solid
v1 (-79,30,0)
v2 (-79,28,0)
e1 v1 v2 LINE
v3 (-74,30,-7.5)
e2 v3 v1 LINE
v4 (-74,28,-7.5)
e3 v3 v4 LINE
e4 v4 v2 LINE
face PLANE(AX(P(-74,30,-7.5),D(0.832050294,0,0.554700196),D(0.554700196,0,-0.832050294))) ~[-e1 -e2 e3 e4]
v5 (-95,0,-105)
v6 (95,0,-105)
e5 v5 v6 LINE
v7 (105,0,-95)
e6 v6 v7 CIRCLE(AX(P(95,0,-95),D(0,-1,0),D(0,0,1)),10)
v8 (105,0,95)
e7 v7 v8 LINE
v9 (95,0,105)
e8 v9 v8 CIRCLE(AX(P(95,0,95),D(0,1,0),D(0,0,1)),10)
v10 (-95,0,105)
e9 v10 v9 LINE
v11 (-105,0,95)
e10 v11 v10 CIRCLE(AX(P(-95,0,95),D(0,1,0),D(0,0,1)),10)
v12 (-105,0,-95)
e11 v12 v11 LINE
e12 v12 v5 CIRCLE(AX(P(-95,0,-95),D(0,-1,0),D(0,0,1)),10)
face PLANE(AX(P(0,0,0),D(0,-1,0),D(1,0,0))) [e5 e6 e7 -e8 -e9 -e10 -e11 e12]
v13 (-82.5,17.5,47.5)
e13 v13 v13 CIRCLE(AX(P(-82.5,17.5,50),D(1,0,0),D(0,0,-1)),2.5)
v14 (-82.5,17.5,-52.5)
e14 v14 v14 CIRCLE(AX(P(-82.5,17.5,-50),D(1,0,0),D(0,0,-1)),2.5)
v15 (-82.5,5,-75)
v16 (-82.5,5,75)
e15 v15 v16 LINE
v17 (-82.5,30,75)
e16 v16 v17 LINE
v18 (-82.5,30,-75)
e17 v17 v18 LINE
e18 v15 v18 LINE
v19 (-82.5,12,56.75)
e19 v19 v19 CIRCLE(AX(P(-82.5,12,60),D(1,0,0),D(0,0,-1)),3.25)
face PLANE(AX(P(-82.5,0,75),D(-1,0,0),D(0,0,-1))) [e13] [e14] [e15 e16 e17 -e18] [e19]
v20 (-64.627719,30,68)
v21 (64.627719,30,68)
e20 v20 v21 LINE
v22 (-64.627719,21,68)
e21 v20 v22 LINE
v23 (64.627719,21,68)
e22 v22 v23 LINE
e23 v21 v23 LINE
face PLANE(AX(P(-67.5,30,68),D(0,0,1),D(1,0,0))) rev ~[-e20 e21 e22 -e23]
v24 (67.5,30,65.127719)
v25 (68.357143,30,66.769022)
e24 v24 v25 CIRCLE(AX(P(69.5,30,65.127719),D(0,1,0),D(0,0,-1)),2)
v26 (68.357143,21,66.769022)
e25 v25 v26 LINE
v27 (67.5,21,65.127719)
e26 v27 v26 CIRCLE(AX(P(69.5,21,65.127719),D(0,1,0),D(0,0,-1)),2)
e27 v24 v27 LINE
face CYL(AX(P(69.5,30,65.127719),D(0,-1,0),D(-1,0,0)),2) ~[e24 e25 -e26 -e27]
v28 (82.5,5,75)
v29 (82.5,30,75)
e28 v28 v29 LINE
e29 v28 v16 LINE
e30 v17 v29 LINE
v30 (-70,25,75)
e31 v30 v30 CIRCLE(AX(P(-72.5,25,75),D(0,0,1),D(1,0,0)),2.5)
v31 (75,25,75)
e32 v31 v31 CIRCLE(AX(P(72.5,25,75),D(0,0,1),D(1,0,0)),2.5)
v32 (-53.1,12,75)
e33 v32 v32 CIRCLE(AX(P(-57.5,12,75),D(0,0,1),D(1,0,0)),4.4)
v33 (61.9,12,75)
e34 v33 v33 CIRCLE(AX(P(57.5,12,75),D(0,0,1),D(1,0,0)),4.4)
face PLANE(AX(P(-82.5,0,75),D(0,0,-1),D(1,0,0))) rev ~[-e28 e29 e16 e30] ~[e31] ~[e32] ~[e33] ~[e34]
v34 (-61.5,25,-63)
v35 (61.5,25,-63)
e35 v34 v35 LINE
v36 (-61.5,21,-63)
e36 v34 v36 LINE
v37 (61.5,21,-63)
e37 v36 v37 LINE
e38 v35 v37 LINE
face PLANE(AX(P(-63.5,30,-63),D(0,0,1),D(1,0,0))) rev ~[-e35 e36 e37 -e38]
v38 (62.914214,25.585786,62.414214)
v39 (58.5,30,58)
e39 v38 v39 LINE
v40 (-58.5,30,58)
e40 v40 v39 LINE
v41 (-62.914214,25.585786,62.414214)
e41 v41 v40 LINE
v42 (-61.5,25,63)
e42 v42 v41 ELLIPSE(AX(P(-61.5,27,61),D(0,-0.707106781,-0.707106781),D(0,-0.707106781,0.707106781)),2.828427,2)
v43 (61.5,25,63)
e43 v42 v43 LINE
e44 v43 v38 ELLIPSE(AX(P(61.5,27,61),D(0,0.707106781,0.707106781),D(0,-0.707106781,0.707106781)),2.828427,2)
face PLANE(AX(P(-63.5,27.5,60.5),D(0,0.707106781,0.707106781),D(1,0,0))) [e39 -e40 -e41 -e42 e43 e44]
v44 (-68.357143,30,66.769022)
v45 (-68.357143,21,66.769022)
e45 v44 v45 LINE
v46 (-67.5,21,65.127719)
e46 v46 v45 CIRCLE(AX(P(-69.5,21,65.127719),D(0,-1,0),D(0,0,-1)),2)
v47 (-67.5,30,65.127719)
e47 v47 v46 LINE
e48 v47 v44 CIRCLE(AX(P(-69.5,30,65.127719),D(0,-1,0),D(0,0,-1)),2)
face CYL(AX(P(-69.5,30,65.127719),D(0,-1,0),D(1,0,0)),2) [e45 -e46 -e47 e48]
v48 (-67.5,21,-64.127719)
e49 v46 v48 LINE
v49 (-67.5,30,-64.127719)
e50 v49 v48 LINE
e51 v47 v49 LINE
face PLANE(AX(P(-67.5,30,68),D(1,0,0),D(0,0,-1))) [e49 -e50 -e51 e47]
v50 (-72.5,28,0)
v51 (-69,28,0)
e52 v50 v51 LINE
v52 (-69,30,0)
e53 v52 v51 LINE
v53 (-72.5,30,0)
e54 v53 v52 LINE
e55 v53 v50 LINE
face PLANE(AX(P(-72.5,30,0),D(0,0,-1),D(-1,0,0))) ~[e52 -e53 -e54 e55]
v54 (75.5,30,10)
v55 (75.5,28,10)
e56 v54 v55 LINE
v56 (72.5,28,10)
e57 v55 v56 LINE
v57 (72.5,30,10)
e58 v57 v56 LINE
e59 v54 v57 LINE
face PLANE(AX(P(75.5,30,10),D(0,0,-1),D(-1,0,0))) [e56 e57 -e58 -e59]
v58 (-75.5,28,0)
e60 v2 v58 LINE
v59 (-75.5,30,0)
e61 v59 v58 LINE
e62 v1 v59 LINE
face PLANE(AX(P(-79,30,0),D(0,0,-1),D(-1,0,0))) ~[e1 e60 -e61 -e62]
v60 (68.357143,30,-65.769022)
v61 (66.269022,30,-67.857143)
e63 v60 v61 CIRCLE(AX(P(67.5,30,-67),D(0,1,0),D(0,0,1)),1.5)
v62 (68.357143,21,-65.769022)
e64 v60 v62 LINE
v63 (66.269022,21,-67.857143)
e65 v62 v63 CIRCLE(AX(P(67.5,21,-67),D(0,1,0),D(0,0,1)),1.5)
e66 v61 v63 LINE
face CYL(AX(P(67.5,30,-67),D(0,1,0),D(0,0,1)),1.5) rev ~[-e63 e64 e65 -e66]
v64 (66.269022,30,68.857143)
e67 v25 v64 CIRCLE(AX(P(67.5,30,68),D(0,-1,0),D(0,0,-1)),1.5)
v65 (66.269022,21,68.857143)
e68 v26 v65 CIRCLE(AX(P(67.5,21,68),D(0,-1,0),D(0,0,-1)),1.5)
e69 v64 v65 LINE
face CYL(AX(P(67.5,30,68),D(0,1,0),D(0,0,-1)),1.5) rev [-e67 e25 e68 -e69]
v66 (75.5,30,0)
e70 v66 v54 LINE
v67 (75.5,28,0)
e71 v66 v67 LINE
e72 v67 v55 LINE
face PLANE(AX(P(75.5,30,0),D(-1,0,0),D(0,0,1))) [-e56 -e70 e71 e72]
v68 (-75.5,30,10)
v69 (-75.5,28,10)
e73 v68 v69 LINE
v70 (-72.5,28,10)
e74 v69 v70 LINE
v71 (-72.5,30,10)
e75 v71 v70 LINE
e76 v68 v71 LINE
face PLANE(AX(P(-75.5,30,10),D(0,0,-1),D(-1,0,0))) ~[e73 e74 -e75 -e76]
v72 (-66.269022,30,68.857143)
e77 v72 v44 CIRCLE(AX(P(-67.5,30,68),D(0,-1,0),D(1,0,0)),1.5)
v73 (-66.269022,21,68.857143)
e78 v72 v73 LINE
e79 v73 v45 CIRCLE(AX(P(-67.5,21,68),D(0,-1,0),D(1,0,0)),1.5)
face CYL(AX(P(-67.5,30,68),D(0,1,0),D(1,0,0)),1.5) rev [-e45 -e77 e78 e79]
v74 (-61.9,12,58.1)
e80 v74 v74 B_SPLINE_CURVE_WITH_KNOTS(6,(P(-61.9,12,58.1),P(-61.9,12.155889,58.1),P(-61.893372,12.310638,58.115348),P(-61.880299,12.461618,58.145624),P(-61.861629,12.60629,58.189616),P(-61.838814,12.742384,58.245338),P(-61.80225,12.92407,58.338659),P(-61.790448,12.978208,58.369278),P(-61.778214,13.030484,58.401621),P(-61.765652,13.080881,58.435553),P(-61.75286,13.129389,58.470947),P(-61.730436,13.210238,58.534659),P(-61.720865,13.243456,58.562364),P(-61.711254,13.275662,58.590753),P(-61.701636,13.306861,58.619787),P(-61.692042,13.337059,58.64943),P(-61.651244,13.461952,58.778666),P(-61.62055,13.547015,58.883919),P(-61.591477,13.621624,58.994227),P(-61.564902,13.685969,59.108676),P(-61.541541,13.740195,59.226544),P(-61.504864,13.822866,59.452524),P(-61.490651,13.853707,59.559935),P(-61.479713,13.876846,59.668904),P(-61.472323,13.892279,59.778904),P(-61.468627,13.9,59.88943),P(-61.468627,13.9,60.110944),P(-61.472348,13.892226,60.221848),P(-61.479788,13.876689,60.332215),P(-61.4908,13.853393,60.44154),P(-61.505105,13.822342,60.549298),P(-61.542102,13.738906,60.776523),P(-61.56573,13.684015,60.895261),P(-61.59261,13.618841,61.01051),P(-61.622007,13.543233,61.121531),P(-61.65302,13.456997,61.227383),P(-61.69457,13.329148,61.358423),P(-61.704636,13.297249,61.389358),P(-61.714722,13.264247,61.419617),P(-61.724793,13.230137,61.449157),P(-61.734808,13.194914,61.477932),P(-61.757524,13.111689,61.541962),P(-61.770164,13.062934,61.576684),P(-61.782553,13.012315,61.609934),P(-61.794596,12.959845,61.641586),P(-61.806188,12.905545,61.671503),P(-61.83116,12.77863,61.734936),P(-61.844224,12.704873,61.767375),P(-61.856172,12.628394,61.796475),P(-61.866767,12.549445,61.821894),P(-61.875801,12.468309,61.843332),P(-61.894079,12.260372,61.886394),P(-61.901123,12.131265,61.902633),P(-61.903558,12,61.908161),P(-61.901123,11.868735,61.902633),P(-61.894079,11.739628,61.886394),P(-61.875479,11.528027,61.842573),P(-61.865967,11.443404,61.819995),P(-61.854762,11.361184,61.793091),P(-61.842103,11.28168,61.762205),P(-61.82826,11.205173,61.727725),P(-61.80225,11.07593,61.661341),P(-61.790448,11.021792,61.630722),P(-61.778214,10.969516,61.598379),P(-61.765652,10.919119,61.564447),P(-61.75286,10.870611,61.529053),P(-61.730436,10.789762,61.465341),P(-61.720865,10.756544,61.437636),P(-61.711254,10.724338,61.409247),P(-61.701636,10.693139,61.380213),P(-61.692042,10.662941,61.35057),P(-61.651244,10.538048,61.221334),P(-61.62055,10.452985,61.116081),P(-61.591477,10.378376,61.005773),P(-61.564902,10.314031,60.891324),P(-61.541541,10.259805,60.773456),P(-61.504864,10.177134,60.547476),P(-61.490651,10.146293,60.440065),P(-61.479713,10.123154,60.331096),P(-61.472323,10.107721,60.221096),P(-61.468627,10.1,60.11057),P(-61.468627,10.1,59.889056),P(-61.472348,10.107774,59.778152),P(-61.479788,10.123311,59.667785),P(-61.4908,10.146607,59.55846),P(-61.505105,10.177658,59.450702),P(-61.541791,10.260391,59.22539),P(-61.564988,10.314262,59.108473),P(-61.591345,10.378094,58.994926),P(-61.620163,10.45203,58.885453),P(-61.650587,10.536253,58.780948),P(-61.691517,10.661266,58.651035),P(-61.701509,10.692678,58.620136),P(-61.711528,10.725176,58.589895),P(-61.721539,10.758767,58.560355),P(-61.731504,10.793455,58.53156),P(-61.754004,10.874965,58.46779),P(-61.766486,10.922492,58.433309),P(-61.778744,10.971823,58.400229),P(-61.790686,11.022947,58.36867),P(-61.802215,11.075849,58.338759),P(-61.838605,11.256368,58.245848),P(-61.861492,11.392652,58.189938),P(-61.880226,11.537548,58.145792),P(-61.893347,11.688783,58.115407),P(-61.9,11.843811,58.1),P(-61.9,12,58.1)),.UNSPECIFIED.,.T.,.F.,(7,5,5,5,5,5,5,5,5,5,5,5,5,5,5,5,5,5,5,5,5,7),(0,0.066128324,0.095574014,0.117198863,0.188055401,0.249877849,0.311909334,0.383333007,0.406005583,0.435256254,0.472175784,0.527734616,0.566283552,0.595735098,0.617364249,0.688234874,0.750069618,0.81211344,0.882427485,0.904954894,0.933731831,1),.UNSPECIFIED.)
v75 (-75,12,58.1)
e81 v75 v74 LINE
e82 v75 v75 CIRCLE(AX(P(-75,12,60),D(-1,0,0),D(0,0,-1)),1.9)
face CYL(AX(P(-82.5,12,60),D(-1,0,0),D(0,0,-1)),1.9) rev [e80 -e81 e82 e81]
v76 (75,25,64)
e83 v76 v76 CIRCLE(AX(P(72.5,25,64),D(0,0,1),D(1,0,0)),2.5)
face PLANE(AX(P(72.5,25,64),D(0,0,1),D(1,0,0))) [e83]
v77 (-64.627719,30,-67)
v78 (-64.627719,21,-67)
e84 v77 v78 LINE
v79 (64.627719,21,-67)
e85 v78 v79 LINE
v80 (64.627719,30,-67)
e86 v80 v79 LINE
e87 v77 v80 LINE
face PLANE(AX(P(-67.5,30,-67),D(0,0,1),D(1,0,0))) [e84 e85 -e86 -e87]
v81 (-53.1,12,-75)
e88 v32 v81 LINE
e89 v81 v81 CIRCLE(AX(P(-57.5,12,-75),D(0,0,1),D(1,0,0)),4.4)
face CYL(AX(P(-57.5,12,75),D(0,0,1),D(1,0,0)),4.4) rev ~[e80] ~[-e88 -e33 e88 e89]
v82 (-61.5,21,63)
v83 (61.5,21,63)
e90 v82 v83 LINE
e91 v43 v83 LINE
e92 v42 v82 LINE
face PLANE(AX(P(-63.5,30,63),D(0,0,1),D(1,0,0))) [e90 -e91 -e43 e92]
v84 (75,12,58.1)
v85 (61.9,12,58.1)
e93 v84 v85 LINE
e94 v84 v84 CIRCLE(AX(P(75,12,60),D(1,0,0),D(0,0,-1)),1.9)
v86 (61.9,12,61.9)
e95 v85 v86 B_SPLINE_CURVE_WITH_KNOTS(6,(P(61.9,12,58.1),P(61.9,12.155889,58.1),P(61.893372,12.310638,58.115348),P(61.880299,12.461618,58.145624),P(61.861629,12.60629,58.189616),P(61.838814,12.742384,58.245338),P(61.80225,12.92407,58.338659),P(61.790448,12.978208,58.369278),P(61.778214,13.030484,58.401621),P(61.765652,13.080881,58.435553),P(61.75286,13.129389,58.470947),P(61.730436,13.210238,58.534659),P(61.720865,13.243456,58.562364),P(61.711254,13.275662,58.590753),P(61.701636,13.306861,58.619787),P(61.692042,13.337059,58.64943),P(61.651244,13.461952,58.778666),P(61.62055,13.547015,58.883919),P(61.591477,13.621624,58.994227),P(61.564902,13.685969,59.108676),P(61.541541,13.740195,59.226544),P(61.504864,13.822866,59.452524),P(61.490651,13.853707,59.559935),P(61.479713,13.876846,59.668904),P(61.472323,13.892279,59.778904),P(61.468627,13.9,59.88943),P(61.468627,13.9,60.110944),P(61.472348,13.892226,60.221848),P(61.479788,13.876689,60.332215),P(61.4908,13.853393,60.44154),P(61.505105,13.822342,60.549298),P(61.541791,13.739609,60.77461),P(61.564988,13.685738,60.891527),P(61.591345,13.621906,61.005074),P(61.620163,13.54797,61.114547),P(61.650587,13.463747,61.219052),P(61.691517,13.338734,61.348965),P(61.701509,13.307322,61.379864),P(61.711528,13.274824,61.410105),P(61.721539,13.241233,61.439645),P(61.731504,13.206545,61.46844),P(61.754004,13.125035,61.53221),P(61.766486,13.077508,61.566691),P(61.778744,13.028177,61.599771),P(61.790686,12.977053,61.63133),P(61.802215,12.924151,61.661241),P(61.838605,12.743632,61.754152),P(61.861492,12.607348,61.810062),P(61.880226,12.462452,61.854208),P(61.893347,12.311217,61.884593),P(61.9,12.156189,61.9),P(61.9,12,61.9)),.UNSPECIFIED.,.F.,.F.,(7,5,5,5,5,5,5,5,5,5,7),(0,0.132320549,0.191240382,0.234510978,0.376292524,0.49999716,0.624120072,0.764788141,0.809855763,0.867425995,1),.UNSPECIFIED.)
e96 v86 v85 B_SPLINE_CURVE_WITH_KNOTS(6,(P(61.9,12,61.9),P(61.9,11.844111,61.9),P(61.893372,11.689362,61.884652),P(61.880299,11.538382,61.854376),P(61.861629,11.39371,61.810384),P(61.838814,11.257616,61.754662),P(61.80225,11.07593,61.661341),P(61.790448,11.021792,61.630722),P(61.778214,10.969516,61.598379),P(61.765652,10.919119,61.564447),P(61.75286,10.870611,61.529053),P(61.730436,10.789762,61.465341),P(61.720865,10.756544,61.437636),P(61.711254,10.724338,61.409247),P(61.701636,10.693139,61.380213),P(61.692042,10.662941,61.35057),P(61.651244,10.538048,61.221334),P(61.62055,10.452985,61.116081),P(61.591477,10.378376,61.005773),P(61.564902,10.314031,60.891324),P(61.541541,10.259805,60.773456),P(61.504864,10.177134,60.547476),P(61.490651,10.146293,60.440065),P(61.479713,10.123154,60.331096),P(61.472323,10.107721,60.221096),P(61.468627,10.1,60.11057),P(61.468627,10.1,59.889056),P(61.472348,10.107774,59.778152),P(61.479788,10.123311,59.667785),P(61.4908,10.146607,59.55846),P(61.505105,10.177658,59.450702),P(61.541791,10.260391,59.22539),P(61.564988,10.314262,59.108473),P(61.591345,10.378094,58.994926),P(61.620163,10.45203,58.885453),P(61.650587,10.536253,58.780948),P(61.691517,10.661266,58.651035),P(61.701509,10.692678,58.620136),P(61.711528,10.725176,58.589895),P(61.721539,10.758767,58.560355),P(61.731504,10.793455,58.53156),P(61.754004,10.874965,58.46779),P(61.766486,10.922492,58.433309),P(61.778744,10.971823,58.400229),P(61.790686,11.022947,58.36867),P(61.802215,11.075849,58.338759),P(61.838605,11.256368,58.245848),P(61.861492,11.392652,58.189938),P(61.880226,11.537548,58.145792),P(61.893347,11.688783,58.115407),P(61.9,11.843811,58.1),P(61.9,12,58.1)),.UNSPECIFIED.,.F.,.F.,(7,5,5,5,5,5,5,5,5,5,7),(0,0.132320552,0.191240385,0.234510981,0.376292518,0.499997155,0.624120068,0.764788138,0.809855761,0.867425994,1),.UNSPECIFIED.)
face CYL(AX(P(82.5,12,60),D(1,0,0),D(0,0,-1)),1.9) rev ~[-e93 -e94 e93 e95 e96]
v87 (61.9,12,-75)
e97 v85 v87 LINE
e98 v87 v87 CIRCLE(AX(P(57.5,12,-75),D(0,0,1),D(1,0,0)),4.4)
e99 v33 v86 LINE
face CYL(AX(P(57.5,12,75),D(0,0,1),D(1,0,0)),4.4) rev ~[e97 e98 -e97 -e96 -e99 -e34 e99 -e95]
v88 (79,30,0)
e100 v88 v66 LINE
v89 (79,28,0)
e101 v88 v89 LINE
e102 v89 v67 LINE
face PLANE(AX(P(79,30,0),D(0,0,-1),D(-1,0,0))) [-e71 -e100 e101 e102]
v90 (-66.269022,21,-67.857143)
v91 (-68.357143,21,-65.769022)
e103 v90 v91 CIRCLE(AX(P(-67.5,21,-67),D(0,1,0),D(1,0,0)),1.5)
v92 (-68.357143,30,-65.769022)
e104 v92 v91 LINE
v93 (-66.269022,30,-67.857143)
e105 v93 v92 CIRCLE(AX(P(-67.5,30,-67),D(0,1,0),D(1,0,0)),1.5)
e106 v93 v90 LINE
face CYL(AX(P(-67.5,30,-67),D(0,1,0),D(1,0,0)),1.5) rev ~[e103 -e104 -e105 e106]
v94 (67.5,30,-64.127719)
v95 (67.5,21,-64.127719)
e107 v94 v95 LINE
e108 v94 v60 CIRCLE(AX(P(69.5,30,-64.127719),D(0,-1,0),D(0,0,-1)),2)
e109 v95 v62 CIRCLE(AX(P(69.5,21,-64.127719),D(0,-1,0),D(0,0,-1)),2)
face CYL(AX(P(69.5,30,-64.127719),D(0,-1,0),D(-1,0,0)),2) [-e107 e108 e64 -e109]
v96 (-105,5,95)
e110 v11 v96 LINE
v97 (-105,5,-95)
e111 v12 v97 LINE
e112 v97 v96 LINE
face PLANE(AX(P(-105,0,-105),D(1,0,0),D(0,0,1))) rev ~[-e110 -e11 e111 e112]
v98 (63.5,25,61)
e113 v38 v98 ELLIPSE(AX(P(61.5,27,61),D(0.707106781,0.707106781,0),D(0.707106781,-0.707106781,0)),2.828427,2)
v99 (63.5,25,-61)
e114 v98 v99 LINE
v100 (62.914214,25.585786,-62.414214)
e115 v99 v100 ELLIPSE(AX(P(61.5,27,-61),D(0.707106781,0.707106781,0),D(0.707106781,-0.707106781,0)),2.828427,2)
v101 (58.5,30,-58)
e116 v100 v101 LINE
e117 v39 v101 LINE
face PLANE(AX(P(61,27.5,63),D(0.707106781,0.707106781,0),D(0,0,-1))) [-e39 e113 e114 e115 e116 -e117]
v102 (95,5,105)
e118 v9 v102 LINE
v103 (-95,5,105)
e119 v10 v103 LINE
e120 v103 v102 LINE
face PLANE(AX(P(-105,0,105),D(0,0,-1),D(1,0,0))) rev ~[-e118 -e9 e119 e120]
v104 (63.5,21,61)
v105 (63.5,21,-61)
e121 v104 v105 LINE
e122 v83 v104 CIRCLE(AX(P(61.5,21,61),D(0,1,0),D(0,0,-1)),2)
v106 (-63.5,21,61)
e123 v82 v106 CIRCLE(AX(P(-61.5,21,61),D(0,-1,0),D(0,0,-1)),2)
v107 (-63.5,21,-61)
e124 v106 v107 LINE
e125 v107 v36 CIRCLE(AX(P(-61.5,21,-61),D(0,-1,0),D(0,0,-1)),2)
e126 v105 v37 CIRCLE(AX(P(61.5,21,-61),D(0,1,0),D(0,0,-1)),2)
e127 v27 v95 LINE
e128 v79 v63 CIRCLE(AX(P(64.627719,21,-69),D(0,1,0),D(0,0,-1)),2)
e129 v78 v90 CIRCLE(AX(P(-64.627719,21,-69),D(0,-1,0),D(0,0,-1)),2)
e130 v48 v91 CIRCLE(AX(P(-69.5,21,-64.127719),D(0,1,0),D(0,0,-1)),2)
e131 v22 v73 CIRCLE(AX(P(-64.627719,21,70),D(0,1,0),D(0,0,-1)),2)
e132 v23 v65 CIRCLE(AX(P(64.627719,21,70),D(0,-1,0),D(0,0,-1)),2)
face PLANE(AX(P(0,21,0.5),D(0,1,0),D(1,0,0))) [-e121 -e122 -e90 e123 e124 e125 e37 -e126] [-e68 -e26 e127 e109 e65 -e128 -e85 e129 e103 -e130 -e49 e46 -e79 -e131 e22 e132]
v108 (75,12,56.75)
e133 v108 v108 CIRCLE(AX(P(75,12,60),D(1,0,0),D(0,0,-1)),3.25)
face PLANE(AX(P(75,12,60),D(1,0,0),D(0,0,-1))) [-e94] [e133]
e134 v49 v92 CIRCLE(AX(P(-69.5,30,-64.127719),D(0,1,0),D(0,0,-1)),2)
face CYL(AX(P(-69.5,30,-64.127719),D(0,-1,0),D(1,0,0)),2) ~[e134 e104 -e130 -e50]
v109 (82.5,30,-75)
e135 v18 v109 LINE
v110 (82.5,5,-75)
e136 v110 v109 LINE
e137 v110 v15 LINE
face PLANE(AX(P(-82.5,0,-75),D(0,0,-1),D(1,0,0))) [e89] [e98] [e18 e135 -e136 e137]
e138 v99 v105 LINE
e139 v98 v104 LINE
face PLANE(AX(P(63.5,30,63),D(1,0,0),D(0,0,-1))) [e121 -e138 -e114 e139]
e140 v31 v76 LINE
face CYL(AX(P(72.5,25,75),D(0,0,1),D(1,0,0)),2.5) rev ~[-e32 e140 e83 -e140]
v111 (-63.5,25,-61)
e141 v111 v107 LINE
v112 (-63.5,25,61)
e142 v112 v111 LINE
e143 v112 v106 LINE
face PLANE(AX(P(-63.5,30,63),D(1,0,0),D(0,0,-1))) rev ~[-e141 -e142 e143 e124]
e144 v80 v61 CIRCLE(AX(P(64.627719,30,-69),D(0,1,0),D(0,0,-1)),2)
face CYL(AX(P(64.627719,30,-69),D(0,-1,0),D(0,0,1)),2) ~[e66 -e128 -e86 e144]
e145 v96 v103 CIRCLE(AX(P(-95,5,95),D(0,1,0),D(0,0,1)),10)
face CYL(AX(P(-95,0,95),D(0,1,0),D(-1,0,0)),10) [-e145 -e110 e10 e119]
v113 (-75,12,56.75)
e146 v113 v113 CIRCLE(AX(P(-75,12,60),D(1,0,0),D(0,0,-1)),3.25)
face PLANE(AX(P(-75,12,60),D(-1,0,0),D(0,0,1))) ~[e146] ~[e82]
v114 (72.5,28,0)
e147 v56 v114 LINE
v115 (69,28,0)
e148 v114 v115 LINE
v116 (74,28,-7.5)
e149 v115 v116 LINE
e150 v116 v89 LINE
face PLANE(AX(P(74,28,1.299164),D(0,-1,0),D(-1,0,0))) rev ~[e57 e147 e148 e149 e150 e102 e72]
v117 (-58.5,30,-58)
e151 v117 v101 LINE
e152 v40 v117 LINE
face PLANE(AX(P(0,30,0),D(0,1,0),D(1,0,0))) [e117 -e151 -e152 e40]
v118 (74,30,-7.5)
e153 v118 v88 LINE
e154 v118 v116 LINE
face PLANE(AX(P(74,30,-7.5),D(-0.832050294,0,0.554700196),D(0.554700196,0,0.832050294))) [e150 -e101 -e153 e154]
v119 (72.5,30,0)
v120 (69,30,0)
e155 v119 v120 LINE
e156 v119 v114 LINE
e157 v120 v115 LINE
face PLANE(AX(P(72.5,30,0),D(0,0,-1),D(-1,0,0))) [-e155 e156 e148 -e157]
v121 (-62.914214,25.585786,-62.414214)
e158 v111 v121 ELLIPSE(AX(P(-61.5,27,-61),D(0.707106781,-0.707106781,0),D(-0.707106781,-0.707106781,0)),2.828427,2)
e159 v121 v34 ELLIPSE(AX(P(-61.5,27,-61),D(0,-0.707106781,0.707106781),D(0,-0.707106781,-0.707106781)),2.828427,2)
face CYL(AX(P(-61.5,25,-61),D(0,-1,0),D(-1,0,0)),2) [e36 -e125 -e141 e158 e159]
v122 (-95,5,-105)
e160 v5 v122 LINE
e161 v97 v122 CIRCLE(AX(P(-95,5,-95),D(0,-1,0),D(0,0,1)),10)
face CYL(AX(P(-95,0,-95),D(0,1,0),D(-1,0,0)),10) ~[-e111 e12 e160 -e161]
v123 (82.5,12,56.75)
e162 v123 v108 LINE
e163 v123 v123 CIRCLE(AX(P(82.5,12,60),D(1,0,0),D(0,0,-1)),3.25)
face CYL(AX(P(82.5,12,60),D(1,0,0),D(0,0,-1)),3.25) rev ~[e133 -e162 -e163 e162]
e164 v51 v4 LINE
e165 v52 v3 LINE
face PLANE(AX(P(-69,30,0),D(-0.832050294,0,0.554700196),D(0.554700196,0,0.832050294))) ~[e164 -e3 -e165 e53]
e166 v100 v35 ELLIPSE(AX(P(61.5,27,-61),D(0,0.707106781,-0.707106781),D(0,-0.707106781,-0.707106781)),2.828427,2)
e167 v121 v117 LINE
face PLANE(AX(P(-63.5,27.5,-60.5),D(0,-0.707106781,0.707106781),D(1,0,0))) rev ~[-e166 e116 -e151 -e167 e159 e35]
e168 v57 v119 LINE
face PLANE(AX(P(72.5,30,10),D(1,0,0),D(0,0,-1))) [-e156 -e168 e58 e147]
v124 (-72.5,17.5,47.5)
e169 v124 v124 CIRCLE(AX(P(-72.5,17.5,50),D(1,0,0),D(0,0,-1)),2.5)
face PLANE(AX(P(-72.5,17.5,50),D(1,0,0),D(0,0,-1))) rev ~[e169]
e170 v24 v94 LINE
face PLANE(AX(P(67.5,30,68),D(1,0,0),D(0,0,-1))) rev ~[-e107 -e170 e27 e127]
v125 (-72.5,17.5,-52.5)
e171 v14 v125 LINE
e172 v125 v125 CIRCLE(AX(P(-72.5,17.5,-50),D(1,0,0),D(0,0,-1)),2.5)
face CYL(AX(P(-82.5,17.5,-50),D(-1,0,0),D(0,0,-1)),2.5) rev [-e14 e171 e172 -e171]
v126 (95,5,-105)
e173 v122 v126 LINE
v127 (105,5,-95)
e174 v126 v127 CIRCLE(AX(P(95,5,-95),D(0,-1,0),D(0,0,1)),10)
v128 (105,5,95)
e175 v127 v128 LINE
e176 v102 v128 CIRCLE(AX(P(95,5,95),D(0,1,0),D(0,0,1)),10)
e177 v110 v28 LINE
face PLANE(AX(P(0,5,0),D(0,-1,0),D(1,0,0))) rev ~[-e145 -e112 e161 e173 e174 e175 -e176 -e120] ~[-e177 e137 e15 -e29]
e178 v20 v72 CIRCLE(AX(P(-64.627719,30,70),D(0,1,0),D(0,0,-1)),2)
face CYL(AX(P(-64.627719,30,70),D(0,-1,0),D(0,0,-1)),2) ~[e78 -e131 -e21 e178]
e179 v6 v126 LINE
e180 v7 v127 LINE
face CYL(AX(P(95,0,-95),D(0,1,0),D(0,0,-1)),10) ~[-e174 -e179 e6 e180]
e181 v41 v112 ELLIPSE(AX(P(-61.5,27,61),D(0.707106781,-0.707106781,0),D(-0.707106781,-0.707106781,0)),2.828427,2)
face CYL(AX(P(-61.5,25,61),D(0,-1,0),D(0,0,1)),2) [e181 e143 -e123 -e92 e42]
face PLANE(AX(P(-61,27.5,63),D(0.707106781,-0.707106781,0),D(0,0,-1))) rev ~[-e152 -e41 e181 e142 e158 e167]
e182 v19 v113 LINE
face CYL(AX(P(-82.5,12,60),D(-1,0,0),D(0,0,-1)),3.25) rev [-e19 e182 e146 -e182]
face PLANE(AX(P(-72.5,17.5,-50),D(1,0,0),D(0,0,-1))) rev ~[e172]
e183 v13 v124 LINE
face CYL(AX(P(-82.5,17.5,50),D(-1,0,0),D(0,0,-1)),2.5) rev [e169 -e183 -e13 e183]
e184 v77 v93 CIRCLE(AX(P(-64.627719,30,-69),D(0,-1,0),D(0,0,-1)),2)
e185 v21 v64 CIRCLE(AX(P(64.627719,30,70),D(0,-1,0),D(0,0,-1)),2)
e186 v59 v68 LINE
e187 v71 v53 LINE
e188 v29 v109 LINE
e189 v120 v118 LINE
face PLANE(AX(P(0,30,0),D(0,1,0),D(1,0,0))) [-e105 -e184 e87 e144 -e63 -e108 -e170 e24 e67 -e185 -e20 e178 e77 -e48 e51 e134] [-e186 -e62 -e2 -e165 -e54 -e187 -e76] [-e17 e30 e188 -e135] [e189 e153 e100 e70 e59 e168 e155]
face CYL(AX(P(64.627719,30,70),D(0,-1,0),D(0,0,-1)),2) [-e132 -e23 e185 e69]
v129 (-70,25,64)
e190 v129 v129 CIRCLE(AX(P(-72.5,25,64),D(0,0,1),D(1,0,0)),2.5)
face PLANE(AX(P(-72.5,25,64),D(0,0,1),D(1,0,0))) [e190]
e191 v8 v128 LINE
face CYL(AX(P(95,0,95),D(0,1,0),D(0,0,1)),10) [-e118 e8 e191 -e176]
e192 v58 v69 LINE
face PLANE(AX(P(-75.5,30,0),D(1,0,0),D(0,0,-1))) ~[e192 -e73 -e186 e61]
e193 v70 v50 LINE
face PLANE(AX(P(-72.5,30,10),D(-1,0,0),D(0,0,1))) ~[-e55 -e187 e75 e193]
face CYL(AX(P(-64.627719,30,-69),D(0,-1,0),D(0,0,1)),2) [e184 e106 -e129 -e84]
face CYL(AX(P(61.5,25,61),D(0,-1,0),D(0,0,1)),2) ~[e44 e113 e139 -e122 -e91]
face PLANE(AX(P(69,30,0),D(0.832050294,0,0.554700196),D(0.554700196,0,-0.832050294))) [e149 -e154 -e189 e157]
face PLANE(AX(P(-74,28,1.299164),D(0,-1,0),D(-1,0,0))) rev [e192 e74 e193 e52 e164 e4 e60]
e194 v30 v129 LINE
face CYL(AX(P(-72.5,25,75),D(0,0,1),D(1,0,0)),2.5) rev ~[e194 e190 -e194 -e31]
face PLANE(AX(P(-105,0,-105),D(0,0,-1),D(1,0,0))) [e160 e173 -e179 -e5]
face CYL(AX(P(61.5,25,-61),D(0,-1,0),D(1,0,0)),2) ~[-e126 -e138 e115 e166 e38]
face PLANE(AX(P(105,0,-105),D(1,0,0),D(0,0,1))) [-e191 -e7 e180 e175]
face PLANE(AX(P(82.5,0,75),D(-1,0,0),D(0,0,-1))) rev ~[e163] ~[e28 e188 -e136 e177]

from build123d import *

# Parameters (mm, degrees)
SKETCH1_W           = 165
SKETCH1_H           = 150
BOSS_EXTRUDE1_DEPTH = 30
SKETCH2_W           = 135
SKETCH2_H           = 135
SKETCH2_W_2         = 127
SKETCH2_H_2         = 126
CUT_EXTRUDE1_DEPTH  = 9
CUT_EXTRUDE2_DEPTH  = 2
SKETCH4_R           = 2.5
CUT_EXTRUDE3_DEPTH  = 11
SKETCH5_W           = 210
SKETCH5_H           = 210
BOSS_EXTRUDE2_DEPTH = 5
FILLET1_R           = 10
SKETCH6_R           = 4.4
CUT_EXTRUDE4_DEPTH  = 211.535032714
CHAMFER1_SIZE       = 5
CUT_EXTRUDE5_DEPTH  = 9
FILLET2_R           = 2
SKETCH8_R           = 1.9
CUT_EXTRUDE6_DEPTH  = 25
SKETCH10_R          = 3.25
CUT_EXTRUDE8_DEPTH  = 7.5
SKETCH9_R           = 2.5
CUT_EXTRUDE7_DEPTH  = 10


with BuildPart() as part:
    # Sketch1 → Boss-Extrude1 (new body)
    with BuildSketch(Plane(origin=(0, 0, 0), x_dir=(1, 0, 0), z_dir=(0, 1, 0))):
        Rectangle(SKETCH1_W, SKETCH1_H)
    extrude(amount=BOSS_EXTRUDE1_DEPTH)

    # Sketch2 → Cut-Extrude1 (cut)
    with BuildSketch(Plane(origin=(0, 30, 0), x_dir=(1, 0, 0), z_dir=(0, 1, 0))):
        with Locations((0, -0.5)):
            Rectangle(SKETCH2_W, SKETCH2_H)
        Rectangle(SKETCH2_W_2, SKETCH2_H_2, mode=Mode.SUBTRACT)
    extrude(amount=-CUT_EXTRUDE1_DEPTH, mode=Mode.SUBTRACT)

    # Sketch3 → Cut-Extrude2 (cut)
    with BuildSketch(Plane(origin=(0, 30, 0), x_dir=(1, 0, 0), z_dir=(0, 1, 0))):
        Polygon((75.5, -10), (72.5, -10), (72.5, 0), (69, 0), (74, 7.5), (79, 0), (75.5, 0), align=None)
    cut_extrude2 = extrude(amount=-CUT_EXTRUDE2_DEPTH, mode=Mode.SUBTRACT)

    # Mirror1: Cut-Extrude2 across plane
    add(cut_extrude2.mirror(Plane(origin=(0, 0, 0), x_dir=(0, 0, 1), z_dir=(1, 0, 0))), mode=Mode.SUBTRACT)

    # Sketch4 → Cut-Extrude3 (cut)
    with BuildSketch(Plane.XY.offset(75)):
        with Locations((72.5, 25)):
            Circle(SKETCH4_R)
        with Locations((-72.5, 25)):
            Circle(SKETCH4_R)
    extrude(amount=-CUT_EXTRUDE3_DEPTH, mode=Mode.SUBTRACT)

    # Sketch5 → Boss-Extrude2 (add)
    with BuildSketch(Plane.XZ):
        Rectangle(SKETCH5_W, SKETCH5_H)
    extrude(amount=-BOSS_EXTRUDE2_DEPTH)

    # Fillet1
    fillet1_edges = [part.edges().sort_by_distance(p)[0] for p in [
        (105, 2.5, 105),
        (105, 2.5, -105),
        (-105, 2.5, -105),
        (-105, 2.5, 105),
    ]]
    fillet(fillet1_edges, radius=FILLET1_R)

    # Sketch6 → Cut-Extrude4 (cut, through all)
    with BuildSketch(Plane.XY.offset(75)):
        with Locations((-57.5, 12)):
            Circle(SKETCH6_R)
        with Locations((57.5, 12)):
            Circle(SKETCH6_R)
    extrude(amount=-CUT_EXTRUDE4_DEPTH, mode=Mode.SUBTRACT)

    # Chamfer1
    chamfer1_edges = [part.edges().sort_by_distance(p)[0] for p in [
        (63.5, 30, 0),
        (0, 30, 63),
        (-63.5, 30, 0),
        (0, 30, -63),
    ]]
    chamfer(chamfer1_edges, length=CHAMFER1_SIZE)

    # Sketch7 → Cut-Extrude5 (cut)
    with BuildSketch(Plane(origin=(0, 30, 0), x_dir=(1, 0, 0), z_dir=(0, 1, 0))):
        with BuildLine():
            Line((-67.5, 65.5), (-67.5, 67))
            Line((-67.5, 67), (-66, 67))
            ThreePointArc((-66, 67), (-68.560660172, 68.060660172), (-67.5, 65.5))
        make_face()
        with BuildLine():
            Line((66, 67), (67.5, 67))
            Line((67.5, 67), (67.5, 65.5))
            ThreePointArc((67.5, 65.5), (68.560660172, 68.060660172), (66, 67))
        make_face()
        with BuildLine():
            Line((66, -68), (67.5, -68))
            Line((67.5, -68), (67.5, -66.5))
            ThreePointArc((67.5, -66.5), (68.560660172, -69.060660172), (66, -68))
        make_face()
        with BuildLine():
            Line((-67.5, -66.5), (-67.5, -68))
            Line((-67.5, -68), (-66, -68))
            ThreePointArc((-66, -68), (-68.560660172, -69.060660172), (-67.5, -66.5))
        make_face()
    extrude(amount=-CUT_EXTRUDE5_DEPTH, mode=Mode.SUBTRACT)

    # Fillet2
    fillet2_edges = [part.edges().sort_by_distance(p)[0] for p in [
        (-67.5, 25.5, 66.5),
        (-66, 25.5, 68),
        (66, 25.5, 68),
        (67.5, 25.5, 66.5),
        (67.5, 25.5, -65.5),
        (66, 25.5, -67),
        (-67.5, 25.5, -65.5),
        (-66, 25.5, -67),
        (63.5, 23, 63),
        (-63.5, 23, 63),
        (-63.5, 23, -63),
        (63.5, 23, -63),
    ]]
    fillet(fillet2_edges, radius=FILLET2_R)

    # Sketch8 → Cut-Extrude6 (cut)
    with BuildSketch(Plane(origin=(82.5, 0, 0), x_dir=(0, 0, -1), z_dir=(1, 0, 0))):
        with Locations((-60, 12)):
            Circle(SKETCH8_R)
    cut_extrude6 = extrude(amount=-CUT_EXTRUDE6_DEPTH, mode=Mode.SUBTRACT)

    # Sketch10 → Cut-Extrude8 (cut)
    with BuildSketch(Plane(origin=(82.5, 0, 0), x_dir=(0, 0, -1), z_dir=(1, 0, 0))):
        with Locations((-60, 12)):
            Circle(SKETCH10_R)
    cut_extrude8 = extrude(amount=-CUT_EXTRUDE8_DEPTH, mode=Mode.SUBTRACT)

    # Mirror2: Cut-Extrude6, Cut-Extrude8 across plane
    add(cut_extrude6.mirror(Plane(origin=(0, 0, 0), x_dir=(0, 0, 1), z_dir=(1, 0, 0))), mode=Mode.SUBTRACT)
    add(cut_extrude8.mirror(Plane(origin=(0, 0, 0), x_dir=(0, 0, 1), z_dir=(1, 0, 0))), mode=Mode.SUBTRACT)

    # Sketch9 → Cut-Extrude7 (cut)
    with BuildSketch(Plane(origin=(-82.5, 0, 0), x_dir=(0, 0, -1), z_dir=(1, 0, 0))):
        with Locations((-50, 17.5)):
            Circle(SKETCH9_R)
        with Locations((50, 17.5)):
            Circle(SKETCH9_R)
    extrude(amount=CUT_EXTRUDE7_DEPTH, mode=Mode.SUBTRACT)


solid = part.part
